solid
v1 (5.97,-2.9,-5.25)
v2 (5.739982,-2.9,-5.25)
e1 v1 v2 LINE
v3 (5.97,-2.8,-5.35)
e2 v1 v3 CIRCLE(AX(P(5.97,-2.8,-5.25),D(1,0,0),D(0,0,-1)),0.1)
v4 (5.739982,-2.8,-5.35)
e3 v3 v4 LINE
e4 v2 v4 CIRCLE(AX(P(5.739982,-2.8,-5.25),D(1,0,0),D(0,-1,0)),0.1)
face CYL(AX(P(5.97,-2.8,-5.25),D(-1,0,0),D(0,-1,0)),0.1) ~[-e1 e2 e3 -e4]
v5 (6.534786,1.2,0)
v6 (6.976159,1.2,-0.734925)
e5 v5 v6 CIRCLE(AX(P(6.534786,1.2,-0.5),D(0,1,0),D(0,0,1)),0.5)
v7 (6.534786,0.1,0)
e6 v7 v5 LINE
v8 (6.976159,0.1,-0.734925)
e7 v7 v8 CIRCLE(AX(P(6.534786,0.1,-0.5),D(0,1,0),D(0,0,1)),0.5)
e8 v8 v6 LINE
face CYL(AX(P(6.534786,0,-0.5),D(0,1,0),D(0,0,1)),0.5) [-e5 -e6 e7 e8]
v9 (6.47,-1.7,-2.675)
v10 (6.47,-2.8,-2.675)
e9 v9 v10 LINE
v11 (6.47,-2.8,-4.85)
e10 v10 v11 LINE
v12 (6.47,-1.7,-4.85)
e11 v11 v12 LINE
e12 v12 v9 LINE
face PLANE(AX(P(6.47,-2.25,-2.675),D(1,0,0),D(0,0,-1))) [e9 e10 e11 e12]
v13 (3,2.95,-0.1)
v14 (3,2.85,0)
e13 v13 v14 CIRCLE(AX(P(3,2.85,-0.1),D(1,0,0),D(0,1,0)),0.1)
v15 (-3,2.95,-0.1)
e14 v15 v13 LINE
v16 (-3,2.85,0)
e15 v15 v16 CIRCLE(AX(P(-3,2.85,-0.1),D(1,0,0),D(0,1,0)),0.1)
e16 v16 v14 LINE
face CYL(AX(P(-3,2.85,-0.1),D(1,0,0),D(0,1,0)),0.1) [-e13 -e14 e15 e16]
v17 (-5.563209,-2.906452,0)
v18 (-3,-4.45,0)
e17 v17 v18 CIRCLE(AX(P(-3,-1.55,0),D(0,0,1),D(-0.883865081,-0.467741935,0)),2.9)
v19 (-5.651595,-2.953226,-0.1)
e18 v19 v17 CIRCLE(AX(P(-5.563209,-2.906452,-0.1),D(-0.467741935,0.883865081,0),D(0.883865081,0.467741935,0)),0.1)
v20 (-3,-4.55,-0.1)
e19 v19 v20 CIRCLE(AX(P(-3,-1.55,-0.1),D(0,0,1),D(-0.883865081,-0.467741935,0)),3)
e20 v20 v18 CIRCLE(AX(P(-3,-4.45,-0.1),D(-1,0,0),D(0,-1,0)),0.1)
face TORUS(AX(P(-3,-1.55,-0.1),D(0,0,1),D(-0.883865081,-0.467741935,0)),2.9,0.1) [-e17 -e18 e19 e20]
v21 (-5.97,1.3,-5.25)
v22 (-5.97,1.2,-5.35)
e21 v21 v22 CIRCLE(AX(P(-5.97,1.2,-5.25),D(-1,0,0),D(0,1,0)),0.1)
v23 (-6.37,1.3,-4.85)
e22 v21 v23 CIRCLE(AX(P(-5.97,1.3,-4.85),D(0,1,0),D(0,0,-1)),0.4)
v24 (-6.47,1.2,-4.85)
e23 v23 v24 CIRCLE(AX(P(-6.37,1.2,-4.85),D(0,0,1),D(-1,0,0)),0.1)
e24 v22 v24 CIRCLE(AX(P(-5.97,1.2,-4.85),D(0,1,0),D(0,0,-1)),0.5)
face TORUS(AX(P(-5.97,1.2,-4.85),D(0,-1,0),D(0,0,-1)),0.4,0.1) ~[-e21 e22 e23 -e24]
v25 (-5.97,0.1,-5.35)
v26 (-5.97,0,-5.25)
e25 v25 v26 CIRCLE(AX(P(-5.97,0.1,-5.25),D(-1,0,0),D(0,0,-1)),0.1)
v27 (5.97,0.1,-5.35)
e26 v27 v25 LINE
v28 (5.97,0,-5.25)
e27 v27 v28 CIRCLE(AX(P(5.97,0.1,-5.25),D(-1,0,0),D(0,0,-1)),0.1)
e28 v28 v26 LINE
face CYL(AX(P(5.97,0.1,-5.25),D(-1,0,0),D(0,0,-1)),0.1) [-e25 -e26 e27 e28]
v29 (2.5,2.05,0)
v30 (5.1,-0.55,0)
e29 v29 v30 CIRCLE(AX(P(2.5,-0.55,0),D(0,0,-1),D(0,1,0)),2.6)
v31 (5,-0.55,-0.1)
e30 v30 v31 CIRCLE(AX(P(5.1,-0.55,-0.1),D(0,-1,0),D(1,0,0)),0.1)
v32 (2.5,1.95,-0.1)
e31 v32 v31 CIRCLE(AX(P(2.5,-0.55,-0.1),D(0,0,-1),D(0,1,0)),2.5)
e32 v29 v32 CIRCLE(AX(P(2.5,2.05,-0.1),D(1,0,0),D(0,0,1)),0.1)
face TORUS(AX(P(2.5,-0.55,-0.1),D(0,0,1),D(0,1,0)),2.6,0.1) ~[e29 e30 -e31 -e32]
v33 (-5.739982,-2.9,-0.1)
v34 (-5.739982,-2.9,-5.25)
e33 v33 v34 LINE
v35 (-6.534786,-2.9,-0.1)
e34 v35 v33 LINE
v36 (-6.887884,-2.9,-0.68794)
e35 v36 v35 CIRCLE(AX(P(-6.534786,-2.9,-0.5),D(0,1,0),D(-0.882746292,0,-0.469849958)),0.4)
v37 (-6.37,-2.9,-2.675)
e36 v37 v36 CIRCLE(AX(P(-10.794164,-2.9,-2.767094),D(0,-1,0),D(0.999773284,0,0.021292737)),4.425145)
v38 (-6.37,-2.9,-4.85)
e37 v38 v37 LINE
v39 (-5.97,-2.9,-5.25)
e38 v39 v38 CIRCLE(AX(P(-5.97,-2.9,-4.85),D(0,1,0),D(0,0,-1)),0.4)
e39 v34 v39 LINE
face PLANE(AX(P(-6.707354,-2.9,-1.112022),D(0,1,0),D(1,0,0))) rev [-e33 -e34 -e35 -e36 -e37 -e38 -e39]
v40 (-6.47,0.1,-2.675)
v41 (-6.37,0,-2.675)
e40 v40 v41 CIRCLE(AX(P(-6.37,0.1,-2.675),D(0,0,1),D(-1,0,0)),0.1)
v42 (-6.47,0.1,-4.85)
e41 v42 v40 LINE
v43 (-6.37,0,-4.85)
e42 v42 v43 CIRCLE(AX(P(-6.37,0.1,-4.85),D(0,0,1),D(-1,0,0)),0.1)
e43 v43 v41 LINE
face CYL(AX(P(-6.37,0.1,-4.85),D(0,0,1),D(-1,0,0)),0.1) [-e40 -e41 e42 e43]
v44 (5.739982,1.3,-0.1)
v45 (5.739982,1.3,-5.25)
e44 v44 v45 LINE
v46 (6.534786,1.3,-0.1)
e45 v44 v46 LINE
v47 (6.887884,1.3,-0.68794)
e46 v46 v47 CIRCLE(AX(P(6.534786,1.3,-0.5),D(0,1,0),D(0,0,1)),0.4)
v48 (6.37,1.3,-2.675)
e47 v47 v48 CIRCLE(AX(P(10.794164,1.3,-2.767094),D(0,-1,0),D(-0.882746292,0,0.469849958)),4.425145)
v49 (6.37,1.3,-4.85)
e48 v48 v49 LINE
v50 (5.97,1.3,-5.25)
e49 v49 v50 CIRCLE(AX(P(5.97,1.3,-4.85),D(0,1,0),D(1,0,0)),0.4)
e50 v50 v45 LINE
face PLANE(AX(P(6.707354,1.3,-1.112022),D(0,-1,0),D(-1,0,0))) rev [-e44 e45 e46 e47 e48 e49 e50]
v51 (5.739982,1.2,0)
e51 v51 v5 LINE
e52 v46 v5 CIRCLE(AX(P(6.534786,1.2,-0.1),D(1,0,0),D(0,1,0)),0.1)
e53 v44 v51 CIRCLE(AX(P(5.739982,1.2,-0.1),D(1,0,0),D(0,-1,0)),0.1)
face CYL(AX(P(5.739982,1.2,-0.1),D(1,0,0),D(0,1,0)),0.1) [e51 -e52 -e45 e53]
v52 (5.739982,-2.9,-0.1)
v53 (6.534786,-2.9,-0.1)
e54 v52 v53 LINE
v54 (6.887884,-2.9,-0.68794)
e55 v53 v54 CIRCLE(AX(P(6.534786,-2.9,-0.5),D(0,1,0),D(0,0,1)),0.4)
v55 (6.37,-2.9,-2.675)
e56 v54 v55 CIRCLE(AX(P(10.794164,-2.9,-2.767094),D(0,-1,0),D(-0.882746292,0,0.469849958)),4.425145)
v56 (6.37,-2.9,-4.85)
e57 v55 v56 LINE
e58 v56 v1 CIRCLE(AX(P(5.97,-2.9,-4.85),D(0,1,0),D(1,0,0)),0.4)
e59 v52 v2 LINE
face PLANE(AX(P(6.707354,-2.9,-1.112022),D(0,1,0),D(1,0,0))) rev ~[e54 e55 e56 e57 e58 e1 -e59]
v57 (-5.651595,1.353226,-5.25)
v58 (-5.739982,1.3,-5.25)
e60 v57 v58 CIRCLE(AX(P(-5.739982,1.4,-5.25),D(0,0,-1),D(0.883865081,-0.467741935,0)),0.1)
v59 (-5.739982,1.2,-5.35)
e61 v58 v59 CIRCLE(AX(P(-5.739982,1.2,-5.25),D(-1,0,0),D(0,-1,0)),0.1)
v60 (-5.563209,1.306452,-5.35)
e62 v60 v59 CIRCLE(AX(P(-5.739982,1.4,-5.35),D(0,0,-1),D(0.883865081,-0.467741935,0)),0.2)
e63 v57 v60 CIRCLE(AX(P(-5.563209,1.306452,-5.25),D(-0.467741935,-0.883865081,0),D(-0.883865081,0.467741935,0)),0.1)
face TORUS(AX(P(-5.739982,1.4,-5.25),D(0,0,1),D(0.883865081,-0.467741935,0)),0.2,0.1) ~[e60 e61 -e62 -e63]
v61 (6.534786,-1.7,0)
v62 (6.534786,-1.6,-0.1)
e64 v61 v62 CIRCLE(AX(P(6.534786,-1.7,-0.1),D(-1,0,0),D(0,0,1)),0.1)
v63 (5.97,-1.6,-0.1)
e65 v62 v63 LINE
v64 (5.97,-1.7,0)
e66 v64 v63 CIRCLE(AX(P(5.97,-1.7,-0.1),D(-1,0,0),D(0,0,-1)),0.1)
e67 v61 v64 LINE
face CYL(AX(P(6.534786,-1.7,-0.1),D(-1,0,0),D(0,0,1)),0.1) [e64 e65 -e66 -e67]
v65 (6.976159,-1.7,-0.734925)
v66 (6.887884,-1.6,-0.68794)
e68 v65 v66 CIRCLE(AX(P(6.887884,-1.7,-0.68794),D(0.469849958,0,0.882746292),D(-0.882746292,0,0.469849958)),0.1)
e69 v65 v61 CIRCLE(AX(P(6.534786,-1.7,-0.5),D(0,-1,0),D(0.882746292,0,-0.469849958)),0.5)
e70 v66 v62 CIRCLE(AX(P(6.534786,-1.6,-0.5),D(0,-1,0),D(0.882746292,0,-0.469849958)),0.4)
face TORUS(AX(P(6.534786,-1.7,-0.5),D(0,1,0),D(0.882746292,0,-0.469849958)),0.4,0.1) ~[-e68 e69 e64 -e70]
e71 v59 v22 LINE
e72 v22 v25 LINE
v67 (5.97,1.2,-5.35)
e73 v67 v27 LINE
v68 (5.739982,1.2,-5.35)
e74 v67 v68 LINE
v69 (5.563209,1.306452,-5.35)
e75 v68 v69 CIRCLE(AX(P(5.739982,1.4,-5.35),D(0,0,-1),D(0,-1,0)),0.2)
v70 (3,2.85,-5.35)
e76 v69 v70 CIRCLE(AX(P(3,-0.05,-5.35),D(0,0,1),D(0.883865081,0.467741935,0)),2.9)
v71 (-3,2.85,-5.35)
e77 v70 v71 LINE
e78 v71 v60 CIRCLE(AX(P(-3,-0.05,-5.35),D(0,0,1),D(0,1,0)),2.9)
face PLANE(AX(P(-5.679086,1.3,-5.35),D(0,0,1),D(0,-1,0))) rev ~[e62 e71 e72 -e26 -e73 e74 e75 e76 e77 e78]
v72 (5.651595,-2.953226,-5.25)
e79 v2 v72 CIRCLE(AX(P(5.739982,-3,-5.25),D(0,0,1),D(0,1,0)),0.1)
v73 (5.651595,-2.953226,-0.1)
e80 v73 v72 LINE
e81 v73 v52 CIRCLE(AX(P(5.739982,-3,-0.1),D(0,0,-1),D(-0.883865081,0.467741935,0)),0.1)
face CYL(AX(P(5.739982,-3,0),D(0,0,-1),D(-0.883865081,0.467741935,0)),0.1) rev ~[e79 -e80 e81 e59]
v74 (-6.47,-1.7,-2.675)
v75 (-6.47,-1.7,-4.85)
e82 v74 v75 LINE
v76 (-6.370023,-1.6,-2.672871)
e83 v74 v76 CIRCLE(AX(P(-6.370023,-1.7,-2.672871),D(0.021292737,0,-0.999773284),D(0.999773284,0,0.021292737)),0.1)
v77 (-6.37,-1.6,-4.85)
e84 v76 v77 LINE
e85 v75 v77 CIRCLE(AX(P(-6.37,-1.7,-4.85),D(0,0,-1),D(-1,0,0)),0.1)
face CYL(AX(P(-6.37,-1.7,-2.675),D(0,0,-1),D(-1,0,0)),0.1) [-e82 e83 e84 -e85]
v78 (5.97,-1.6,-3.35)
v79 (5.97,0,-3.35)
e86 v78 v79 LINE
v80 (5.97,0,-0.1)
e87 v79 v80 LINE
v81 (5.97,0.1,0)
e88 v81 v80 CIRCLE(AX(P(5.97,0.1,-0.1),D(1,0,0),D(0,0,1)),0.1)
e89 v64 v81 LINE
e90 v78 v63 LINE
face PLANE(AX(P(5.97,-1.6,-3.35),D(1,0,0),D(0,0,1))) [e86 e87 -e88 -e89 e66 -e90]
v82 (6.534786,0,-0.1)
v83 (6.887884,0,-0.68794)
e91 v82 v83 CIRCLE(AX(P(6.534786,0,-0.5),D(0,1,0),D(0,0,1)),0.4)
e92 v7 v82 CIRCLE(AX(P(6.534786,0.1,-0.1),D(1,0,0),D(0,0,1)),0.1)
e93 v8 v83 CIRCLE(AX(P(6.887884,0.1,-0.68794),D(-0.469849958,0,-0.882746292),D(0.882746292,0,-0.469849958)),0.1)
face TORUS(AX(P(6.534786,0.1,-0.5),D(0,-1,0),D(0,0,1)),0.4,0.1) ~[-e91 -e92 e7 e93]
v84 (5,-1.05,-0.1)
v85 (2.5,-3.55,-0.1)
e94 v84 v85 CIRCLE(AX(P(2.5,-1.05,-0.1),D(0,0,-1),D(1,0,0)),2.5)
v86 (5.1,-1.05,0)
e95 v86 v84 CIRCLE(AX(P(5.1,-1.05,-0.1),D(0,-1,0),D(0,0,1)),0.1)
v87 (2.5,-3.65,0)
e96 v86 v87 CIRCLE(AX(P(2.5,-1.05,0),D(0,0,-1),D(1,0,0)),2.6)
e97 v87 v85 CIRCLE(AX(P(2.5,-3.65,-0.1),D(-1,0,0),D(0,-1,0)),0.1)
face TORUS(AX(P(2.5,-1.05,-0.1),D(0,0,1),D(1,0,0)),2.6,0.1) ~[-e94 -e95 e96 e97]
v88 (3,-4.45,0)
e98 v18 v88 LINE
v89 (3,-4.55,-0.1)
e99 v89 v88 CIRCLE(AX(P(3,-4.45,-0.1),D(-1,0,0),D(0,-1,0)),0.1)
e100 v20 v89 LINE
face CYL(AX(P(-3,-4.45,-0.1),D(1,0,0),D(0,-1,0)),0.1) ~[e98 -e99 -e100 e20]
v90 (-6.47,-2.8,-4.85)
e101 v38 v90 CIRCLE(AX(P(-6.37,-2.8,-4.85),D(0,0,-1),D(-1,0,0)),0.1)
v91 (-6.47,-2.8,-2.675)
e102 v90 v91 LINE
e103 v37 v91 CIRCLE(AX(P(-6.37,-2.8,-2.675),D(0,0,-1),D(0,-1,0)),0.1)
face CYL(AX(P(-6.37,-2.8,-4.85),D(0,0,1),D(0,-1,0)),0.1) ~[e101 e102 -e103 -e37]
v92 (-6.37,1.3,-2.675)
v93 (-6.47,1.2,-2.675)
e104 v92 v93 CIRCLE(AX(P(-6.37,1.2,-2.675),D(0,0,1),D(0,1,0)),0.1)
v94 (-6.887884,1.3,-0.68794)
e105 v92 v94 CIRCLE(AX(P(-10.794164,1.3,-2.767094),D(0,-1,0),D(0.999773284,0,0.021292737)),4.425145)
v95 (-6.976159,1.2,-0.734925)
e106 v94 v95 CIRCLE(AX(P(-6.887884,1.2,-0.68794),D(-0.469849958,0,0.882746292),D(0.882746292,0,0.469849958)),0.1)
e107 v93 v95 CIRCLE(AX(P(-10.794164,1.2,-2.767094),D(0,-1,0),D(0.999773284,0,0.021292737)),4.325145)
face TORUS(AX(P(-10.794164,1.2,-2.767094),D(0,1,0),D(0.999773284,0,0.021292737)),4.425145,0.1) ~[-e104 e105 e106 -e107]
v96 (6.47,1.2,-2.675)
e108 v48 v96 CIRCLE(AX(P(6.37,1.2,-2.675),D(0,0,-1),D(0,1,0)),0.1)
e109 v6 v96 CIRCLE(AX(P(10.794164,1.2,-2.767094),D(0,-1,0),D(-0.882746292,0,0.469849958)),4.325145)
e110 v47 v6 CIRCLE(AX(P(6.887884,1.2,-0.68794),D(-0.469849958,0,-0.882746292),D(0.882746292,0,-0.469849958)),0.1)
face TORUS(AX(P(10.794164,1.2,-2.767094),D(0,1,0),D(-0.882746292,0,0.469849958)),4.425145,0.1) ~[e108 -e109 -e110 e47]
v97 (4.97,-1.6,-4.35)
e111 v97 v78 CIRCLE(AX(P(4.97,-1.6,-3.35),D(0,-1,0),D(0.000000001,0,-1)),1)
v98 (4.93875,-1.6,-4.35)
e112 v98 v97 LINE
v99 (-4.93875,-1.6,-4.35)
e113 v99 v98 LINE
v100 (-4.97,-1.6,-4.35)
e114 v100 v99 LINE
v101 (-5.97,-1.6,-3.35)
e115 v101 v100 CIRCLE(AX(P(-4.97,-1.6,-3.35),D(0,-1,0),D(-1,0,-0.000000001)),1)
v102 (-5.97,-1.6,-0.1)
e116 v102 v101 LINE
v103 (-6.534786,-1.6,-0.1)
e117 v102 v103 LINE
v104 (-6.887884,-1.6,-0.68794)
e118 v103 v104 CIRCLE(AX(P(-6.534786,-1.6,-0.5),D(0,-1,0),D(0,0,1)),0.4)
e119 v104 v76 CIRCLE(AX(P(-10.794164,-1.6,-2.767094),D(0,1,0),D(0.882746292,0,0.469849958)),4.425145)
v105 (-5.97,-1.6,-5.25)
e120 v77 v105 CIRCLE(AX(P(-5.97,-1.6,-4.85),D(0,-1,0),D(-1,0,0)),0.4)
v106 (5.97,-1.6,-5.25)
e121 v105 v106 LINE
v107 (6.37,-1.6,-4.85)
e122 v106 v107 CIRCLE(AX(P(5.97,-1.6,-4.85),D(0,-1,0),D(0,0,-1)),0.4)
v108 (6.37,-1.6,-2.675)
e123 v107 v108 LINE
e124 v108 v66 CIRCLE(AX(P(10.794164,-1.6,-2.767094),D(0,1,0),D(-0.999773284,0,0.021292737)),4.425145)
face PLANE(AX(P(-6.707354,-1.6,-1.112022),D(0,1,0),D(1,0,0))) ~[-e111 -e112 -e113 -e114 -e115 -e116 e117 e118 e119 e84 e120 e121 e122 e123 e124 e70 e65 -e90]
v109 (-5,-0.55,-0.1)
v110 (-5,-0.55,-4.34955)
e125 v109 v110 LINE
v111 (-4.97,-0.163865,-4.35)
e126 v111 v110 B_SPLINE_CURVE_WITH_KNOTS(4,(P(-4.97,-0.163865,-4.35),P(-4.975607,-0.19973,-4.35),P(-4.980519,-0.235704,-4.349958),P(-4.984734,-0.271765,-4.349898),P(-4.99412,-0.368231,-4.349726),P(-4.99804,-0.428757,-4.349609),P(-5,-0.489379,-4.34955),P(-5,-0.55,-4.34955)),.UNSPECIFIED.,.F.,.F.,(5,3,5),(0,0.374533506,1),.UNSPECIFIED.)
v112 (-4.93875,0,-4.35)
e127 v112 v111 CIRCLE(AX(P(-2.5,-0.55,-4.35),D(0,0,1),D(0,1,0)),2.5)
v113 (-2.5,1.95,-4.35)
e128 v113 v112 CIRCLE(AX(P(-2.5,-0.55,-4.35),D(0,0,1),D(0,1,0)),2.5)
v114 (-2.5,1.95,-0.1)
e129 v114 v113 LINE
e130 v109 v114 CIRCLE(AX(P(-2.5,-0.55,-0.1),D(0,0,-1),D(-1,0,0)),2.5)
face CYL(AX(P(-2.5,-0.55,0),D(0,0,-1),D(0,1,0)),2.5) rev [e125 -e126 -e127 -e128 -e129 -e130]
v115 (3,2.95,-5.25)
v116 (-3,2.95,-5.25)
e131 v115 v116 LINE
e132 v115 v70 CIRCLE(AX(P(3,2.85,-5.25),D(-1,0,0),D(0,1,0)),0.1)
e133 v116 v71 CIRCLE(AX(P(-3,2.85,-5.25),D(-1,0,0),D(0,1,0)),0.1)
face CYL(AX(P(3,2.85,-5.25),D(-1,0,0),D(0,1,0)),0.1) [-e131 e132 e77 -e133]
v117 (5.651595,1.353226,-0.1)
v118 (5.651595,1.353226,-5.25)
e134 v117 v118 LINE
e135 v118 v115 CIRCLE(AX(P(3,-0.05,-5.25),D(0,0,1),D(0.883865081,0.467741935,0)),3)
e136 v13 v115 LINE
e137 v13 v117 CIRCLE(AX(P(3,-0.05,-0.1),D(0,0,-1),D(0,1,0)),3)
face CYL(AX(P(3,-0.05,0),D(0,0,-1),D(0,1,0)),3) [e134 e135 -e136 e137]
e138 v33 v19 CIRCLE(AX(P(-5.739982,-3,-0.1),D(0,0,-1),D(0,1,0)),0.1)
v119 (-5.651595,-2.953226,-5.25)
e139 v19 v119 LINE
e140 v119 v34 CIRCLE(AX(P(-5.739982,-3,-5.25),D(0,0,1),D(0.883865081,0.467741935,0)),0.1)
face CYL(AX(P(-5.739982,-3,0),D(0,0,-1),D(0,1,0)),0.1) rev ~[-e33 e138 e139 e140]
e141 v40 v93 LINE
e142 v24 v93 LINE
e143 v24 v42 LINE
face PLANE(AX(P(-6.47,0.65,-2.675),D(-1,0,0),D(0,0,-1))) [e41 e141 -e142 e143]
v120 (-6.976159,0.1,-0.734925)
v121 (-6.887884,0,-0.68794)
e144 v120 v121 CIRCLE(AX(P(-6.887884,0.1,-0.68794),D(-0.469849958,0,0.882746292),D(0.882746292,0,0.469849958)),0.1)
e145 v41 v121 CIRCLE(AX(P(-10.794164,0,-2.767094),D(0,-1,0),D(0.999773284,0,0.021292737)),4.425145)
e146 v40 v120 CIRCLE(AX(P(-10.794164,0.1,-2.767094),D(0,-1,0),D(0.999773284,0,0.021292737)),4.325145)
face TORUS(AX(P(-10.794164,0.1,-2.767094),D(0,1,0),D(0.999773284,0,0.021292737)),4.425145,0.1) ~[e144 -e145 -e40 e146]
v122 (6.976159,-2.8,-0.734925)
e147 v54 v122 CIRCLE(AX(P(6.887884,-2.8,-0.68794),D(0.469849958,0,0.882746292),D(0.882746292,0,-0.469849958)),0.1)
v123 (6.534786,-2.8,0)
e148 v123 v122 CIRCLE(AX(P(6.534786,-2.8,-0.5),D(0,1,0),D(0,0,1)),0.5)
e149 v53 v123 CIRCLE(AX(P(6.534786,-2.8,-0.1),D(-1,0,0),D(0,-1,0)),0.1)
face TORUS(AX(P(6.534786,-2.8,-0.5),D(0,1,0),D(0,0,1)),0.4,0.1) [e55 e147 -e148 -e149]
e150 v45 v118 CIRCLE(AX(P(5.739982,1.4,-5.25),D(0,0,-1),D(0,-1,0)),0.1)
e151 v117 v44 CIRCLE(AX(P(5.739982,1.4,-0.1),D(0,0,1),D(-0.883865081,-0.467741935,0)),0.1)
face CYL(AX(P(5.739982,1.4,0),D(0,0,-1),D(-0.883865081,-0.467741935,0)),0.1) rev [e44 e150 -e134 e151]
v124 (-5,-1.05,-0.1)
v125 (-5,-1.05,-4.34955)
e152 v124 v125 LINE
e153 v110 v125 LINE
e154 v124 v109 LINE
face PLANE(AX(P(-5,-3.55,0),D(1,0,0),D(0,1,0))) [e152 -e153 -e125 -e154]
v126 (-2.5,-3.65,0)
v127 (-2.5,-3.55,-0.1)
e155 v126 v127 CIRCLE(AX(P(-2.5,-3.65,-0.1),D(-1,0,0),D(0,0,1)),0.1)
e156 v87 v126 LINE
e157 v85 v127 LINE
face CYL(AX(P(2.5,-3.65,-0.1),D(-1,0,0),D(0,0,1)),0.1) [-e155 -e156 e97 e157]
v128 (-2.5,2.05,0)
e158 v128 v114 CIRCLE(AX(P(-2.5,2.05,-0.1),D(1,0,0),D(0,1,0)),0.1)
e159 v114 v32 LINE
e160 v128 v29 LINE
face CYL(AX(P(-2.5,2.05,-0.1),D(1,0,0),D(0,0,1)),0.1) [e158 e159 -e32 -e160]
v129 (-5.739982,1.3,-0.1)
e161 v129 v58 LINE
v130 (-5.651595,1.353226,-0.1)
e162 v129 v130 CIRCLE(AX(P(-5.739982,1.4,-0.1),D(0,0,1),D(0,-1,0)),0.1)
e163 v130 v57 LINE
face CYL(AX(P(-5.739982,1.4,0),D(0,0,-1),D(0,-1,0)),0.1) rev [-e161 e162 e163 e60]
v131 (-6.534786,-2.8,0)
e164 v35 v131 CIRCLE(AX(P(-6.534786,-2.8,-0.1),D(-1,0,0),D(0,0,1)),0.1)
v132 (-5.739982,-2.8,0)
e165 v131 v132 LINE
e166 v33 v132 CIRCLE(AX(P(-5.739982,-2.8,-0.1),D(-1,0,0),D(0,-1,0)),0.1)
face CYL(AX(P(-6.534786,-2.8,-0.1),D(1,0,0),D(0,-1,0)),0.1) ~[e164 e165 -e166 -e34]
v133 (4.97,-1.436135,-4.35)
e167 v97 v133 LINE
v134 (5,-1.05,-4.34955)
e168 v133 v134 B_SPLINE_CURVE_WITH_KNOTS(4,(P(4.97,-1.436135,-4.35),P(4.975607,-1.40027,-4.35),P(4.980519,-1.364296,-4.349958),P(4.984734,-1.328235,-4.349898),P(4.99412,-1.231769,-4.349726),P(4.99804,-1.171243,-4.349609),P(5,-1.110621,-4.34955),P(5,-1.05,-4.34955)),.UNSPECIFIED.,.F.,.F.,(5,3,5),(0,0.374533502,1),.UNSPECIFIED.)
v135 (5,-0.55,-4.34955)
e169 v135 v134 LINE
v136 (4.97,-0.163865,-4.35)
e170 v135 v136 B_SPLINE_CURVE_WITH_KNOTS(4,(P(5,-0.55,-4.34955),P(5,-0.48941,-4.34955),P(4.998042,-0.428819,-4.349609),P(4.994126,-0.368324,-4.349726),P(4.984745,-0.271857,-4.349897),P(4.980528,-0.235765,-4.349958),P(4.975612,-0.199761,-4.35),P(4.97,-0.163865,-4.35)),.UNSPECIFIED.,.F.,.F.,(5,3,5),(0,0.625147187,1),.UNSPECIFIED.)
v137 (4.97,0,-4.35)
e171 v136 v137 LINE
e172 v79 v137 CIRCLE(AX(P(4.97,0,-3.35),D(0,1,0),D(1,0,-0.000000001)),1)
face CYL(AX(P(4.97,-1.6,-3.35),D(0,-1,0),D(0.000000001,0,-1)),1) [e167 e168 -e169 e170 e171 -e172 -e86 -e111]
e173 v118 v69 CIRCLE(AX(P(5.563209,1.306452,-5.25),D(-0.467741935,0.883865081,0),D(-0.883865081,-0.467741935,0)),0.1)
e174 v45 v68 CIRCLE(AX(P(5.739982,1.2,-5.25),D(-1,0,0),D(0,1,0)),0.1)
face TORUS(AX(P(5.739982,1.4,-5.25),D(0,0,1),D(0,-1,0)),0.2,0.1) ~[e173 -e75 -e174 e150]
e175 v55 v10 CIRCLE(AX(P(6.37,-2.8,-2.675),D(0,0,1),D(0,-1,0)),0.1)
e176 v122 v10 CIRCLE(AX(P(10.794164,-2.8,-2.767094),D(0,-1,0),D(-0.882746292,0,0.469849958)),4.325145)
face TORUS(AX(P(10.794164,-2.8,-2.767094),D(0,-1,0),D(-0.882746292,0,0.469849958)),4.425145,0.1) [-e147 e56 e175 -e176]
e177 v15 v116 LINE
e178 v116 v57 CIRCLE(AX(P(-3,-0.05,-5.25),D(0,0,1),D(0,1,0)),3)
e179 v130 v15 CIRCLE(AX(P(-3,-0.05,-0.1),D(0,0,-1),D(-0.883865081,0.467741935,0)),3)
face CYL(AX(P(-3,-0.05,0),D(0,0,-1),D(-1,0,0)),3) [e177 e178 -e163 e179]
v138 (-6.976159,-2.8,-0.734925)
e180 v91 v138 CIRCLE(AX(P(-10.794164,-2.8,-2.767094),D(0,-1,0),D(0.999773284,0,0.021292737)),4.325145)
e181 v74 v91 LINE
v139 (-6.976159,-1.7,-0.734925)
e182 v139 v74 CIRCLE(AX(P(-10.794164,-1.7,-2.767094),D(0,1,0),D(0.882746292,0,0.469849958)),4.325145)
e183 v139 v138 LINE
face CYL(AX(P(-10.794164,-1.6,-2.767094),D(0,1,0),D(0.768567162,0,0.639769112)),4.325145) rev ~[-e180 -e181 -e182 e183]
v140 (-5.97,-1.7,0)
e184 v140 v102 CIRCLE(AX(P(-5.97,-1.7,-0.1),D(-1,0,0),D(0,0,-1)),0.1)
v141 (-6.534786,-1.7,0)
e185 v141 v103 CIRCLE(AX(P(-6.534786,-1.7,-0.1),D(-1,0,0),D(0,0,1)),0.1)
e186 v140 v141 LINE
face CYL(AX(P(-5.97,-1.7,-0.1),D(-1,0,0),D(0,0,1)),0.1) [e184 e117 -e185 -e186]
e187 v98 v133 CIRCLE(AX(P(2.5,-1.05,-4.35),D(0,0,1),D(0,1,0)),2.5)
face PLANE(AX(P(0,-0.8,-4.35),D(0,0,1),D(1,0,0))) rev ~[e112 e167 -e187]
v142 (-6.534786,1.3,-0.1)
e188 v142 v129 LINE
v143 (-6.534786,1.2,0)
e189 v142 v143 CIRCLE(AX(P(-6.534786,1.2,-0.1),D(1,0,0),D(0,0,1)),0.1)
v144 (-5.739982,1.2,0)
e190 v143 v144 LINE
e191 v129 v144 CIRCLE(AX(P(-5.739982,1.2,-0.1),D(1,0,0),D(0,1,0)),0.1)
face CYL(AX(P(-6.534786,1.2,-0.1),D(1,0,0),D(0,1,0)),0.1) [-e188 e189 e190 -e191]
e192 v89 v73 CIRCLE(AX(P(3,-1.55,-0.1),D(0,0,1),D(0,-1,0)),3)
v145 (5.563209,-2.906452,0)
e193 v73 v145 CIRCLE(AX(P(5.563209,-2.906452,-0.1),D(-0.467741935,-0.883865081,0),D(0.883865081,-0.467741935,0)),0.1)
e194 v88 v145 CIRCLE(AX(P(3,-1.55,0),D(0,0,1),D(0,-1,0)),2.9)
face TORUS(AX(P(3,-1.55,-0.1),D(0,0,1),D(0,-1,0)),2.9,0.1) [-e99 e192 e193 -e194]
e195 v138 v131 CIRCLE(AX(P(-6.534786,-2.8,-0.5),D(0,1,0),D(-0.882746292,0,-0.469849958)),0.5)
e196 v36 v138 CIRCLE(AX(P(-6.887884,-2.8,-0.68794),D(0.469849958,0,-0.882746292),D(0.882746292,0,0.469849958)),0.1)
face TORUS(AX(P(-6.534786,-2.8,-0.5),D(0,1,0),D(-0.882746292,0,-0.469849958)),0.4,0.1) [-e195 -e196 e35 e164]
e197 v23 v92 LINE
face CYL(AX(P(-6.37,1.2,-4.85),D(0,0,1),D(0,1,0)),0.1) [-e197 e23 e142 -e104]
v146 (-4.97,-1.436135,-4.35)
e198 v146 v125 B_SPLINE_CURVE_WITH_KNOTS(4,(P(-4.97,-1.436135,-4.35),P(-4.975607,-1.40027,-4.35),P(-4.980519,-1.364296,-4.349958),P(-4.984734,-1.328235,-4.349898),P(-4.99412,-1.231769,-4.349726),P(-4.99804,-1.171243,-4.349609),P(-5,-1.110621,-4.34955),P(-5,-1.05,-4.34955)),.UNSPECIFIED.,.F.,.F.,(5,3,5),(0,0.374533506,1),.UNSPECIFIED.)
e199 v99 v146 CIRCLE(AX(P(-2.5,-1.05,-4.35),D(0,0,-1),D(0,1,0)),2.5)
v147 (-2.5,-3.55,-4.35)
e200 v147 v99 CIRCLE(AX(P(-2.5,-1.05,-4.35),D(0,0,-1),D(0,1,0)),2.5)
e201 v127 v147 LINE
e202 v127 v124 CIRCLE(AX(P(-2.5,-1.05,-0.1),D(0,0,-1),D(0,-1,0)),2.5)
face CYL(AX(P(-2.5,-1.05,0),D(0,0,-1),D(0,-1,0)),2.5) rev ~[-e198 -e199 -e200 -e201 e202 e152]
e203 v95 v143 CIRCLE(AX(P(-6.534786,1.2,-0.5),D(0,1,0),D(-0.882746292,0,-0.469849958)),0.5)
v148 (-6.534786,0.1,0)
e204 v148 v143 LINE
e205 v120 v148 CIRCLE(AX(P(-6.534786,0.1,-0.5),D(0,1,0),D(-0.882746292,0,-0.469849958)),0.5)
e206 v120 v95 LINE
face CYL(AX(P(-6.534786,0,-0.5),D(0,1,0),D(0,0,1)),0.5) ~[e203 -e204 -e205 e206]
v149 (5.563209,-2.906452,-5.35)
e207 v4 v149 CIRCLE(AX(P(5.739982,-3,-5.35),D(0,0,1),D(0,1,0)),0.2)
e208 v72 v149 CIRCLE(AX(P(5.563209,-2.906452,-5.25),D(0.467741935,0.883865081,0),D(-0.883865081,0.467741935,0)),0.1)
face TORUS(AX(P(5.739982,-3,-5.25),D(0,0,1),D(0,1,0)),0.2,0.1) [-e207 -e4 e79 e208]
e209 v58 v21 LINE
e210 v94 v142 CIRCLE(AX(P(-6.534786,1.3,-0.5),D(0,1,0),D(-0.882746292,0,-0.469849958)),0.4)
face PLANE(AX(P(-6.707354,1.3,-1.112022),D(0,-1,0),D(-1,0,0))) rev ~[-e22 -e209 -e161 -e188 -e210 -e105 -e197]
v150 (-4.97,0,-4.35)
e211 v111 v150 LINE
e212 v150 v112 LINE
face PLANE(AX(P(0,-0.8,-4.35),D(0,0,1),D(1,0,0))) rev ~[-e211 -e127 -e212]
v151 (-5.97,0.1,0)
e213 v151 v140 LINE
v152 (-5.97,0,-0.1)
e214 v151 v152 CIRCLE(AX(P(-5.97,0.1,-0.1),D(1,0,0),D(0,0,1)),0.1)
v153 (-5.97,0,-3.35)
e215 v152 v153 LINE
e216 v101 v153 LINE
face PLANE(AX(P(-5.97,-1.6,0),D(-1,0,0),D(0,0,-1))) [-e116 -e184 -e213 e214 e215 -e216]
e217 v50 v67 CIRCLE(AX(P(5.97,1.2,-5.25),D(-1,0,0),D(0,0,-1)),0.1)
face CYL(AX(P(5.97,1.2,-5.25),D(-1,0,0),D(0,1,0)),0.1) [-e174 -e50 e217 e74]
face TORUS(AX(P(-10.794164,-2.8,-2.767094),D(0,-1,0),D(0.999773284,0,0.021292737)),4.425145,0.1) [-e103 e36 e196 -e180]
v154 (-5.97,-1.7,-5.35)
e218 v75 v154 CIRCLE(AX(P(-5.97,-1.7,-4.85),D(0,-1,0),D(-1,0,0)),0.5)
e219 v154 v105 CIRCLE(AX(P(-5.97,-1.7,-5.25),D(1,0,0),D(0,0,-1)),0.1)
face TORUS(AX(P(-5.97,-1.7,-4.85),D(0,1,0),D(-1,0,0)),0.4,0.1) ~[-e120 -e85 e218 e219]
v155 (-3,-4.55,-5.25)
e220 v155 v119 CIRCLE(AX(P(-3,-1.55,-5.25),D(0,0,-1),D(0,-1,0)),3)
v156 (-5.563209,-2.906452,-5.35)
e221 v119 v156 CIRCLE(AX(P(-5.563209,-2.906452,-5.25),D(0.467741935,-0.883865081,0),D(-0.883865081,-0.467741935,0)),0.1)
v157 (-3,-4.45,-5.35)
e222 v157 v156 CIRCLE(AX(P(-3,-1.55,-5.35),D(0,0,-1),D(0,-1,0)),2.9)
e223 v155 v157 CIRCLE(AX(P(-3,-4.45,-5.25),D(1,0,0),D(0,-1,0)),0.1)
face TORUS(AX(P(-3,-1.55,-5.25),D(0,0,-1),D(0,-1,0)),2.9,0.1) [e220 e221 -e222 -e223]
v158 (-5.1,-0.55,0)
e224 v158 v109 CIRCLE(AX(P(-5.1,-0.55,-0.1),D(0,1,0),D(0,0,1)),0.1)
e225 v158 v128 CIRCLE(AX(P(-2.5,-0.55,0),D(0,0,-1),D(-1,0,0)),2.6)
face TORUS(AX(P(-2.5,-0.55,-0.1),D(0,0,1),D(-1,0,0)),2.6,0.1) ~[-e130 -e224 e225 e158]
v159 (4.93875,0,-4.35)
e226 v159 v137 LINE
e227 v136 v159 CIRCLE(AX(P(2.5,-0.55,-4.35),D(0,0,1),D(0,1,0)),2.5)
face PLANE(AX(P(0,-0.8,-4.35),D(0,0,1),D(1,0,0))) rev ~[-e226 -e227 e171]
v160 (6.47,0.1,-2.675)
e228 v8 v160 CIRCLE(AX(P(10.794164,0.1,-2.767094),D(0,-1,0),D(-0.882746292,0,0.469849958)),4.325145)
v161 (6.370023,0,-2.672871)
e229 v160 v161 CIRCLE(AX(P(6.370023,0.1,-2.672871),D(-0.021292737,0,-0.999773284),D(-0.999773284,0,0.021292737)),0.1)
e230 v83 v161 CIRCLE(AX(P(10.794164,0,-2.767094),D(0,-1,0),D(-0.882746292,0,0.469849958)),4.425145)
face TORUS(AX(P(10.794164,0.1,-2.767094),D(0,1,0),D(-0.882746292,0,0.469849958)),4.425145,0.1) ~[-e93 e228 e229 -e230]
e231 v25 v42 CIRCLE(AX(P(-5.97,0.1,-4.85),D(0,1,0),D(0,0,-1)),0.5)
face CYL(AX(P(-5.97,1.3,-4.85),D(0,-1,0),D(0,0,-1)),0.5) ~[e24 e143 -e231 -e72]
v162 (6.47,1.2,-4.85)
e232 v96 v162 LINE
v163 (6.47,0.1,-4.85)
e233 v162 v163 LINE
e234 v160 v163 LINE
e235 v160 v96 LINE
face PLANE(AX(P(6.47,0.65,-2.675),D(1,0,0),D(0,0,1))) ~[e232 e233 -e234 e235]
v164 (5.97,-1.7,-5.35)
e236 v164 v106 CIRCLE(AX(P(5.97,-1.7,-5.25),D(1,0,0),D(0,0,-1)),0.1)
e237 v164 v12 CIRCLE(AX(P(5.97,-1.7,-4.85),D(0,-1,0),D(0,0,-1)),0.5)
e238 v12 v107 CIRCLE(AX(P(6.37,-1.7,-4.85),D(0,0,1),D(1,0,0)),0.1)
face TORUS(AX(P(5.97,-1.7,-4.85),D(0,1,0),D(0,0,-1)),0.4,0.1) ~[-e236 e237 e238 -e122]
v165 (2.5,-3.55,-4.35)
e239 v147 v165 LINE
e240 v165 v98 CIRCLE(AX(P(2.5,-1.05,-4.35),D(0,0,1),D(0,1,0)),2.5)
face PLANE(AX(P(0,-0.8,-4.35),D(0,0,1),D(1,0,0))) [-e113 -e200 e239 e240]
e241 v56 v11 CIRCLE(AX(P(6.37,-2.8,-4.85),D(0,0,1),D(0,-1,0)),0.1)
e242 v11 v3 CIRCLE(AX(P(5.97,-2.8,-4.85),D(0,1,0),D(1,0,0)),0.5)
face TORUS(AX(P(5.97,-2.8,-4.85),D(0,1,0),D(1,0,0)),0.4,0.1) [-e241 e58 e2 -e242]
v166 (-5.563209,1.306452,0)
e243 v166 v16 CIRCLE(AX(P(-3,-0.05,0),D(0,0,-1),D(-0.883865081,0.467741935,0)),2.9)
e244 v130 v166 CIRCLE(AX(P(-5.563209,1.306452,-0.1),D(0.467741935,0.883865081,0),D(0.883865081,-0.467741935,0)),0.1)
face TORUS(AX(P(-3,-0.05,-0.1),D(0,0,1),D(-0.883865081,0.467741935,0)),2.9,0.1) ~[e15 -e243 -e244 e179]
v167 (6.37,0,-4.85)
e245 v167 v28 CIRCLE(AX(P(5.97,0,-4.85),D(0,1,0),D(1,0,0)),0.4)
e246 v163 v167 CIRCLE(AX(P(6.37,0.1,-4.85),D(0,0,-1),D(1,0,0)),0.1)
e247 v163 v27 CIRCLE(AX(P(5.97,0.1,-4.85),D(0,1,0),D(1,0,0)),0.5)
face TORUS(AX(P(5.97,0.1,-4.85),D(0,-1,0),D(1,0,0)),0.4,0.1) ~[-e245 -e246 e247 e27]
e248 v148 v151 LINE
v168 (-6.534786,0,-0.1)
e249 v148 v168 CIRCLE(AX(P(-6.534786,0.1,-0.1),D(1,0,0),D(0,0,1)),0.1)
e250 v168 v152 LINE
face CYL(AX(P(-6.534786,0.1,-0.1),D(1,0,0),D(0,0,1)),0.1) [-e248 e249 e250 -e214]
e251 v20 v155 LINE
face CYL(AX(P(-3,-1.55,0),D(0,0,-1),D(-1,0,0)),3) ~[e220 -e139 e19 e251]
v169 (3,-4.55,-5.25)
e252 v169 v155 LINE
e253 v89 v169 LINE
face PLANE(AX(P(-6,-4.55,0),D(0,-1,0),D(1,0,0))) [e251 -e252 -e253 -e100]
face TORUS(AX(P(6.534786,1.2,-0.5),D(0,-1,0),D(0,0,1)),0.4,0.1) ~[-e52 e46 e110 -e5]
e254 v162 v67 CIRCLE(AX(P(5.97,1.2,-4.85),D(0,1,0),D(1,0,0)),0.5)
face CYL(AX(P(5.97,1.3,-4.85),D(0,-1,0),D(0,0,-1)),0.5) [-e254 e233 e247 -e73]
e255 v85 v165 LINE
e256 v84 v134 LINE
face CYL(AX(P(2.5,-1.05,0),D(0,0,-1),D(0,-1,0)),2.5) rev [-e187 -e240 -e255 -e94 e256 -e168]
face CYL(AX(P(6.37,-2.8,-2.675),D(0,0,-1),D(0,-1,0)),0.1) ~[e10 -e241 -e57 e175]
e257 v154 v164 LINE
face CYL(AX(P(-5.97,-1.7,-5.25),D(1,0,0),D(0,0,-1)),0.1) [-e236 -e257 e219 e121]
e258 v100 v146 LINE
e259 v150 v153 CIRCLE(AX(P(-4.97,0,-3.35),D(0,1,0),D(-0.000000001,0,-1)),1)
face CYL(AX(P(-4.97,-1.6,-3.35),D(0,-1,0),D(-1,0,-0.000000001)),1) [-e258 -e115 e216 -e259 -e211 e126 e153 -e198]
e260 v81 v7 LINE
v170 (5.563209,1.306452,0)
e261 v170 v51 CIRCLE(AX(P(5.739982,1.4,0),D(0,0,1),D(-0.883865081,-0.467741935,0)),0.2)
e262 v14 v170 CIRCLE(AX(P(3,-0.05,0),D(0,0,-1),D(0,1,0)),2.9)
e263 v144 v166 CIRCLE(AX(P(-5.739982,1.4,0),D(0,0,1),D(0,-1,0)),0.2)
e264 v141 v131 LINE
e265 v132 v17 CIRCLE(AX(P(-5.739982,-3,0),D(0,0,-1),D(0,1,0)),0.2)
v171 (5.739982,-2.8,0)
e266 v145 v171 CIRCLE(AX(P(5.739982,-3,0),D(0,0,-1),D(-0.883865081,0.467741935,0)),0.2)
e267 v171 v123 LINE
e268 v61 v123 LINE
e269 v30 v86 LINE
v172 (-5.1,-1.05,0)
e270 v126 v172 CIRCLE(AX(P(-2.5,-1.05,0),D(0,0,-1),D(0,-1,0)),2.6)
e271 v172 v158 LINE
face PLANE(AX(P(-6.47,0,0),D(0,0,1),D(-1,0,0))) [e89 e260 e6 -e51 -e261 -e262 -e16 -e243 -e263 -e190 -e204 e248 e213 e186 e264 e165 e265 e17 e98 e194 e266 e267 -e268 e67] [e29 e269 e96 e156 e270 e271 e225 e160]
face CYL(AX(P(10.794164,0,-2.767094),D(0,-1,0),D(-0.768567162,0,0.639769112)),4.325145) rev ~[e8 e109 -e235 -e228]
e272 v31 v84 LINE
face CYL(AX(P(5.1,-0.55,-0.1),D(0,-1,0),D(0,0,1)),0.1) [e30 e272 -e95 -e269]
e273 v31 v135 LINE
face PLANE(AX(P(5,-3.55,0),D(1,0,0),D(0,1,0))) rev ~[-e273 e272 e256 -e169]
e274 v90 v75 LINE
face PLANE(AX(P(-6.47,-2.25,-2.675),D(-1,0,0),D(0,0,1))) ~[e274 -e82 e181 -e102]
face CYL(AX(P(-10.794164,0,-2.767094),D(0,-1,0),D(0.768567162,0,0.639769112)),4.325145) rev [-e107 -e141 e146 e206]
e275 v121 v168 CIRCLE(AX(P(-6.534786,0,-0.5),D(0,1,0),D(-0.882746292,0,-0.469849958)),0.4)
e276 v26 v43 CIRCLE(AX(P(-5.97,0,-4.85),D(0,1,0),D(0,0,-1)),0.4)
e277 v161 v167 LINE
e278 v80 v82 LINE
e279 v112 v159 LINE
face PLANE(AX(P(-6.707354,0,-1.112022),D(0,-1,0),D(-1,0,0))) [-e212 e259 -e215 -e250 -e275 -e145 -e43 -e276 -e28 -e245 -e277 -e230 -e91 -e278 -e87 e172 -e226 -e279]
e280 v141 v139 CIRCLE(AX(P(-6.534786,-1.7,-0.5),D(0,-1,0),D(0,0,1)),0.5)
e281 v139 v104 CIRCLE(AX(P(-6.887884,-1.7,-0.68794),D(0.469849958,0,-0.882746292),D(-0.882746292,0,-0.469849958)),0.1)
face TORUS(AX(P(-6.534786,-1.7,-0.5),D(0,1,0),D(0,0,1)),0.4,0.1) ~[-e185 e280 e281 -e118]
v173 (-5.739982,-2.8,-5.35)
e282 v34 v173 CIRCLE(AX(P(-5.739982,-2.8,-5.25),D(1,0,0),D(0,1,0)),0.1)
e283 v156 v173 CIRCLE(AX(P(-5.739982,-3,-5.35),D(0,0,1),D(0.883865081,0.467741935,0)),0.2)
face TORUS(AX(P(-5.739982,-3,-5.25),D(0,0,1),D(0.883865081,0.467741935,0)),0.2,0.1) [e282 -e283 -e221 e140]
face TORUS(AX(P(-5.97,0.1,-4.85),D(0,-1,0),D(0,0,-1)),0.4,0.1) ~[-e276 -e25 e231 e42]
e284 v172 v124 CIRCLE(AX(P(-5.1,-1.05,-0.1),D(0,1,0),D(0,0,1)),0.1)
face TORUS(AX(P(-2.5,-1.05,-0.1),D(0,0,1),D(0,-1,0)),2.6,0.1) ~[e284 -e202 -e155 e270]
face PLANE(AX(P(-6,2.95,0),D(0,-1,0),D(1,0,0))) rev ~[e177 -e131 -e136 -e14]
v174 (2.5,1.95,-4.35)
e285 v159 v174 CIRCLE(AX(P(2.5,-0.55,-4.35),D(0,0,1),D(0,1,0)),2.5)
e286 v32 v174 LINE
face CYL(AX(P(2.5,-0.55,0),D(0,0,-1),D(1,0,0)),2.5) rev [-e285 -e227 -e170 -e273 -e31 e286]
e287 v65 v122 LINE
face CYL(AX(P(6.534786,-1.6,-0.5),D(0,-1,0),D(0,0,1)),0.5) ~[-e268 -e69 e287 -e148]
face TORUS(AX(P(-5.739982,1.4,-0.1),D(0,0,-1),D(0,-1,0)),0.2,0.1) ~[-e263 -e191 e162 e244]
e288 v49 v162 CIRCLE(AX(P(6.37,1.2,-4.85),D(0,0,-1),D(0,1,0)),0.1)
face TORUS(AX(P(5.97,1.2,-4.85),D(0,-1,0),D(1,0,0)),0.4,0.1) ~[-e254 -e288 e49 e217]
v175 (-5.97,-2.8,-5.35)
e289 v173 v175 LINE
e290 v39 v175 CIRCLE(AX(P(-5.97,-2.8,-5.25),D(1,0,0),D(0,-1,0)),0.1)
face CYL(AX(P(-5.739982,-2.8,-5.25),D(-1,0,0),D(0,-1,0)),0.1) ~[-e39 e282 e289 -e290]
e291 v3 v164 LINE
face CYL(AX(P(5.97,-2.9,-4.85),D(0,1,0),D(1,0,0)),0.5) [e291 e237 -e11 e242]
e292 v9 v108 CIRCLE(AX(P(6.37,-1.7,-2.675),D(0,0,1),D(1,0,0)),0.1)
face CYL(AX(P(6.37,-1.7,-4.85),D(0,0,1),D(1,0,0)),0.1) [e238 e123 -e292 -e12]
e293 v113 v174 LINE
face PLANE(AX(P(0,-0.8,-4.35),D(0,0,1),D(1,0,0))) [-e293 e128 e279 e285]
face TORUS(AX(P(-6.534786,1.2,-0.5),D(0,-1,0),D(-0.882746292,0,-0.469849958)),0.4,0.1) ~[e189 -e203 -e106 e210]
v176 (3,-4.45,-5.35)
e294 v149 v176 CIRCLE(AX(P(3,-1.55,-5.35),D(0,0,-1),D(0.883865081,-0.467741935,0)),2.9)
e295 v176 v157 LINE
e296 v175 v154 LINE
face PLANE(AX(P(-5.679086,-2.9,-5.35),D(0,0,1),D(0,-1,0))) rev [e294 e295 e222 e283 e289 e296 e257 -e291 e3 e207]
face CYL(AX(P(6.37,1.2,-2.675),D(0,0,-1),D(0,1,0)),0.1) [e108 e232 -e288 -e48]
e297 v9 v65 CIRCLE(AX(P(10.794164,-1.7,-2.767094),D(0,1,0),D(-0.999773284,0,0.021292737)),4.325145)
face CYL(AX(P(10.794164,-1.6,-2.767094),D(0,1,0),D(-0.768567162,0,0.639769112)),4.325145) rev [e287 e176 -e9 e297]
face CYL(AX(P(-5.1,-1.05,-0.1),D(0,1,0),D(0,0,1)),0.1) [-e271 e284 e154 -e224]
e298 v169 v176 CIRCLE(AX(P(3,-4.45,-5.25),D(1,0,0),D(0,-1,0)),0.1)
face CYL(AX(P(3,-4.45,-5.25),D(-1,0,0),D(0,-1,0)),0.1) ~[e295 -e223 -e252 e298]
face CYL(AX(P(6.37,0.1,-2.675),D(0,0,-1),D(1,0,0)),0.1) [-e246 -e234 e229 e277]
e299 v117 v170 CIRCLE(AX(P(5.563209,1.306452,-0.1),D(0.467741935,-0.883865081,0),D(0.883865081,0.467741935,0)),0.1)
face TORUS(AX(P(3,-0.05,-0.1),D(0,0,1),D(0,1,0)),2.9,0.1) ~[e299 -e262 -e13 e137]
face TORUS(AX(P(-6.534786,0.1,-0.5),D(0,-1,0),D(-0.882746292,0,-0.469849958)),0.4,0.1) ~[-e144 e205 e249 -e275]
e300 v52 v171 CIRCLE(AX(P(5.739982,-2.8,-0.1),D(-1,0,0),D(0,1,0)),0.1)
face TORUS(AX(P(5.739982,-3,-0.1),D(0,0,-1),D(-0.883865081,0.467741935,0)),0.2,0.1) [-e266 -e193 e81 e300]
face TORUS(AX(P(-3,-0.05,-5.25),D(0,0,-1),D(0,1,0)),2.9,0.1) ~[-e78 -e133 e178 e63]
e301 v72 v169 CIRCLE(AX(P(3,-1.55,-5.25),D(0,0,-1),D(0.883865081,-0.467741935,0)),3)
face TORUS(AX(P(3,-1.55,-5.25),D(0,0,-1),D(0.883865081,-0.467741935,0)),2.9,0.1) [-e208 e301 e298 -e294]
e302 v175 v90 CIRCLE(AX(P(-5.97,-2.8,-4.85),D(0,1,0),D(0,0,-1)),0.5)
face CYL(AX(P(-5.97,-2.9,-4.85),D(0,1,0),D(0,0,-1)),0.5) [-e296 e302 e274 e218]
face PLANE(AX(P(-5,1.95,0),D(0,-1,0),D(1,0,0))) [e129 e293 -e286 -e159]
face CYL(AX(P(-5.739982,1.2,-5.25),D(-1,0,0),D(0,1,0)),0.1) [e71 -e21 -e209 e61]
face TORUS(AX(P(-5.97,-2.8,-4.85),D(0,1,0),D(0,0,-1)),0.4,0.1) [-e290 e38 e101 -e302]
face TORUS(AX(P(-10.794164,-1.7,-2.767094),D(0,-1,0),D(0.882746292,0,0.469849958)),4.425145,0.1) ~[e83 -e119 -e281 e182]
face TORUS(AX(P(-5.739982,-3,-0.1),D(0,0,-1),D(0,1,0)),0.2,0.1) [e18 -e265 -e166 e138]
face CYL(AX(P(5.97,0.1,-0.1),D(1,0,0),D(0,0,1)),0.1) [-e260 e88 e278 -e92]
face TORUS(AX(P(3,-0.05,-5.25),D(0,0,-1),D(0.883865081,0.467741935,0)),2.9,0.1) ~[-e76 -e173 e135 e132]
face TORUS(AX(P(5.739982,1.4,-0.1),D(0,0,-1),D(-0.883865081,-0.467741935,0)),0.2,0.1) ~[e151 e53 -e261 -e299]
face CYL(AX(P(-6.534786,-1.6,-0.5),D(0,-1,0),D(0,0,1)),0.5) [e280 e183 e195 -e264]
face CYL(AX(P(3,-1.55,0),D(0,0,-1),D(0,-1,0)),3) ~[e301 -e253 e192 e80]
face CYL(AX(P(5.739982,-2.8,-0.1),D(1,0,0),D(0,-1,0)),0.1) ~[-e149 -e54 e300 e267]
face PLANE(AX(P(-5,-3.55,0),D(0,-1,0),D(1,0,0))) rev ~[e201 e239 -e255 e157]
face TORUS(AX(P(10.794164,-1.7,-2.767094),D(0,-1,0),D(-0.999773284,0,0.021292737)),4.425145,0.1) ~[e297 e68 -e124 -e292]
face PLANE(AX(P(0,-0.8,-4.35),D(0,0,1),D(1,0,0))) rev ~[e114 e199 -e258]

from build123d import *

# Parameters (mm, degrees)
SKETCH1_W               = 12
SKETCH1_H               = 7.5
BOSS_EXTRUDE1_DEPTH     = 5.35
SKETCH2_W               = 10
SKETCH2_H               = 5.5
CUT_EXTRUDE1_DEPTH      = 4.35
FILLET3_R               = 2.5
FILLET1_R               = 3
SKETCH3_W               = 10
SKETCH3_H               = 1.6
CUT_EXTRUDE2_DEPTH      = 2
SKETCH4_OUTSIDE_W       = 17.026
SKETCH4_OUTSIDE_H       = 10.376
CUT_EXTRUDE3_DEPTH      = 1.6
BOSS_EXTRUDE2_START     = -0.290914
SKETCH6_W               = 5.35
SKETCH6_H               = 1.3
BOSS_EXTRUDE2_DEPTH     = 0.790914
BOSS_EXTRUDE8_DEPTH     = 1.3
MIRROR2_START           = -0.290914
MIRROR2_COPY_1_SKETCH_W = 5.35
MIRROR2_COPY_1_SKETCH_H = 1.3
MIRROR2_COPY_1_DEPTH    = 0.790914
MIRROR2_COPY_2_DEPTH    = 1.3
FILLET7_R               = 0.5
FILLET4_R               = 0.1
FILLET6_R               = 0.1
FILLET8_R               = 0.1


with BuildPart() as part:
    # Sketch1 → Boss-Extrude1 (new body)
    with BuildSketch(Plane.XY):
        with Locations((0, -0.8)):
            Rectangle(SKETCH1_W, SKETCH1_H)
    extrude(amount=-BOSS_EXTRUDE1_DEPTH)

    # Sketch2 → Cut-Extrude1 (cut)
    with BuildSketch(Plane.XY):
        with Locations((0, -0.8)):
            Rectangle(SKETCH2_W, SKETCH2_H)
    extrude(amount=-CUT_EXTRUDE1_DEPTH, mode=Mode.SUBTRACT)

    # Fillet3
    fillet3_edges = [part.edges().sort_by_distance(p)[0] for p in [
        (5, -3.55, -2.175),
        (-5, -3.55, -2.175),
        (-5, 1.95, -2.175),
        (5, 1.95, -2.175),
    ]]
    fillet(fillet3_edges, radius=FILLET3_R)

    # Fillet1
    fillet1_edges = [part.edges().sort_by_distance(p)[0] for p in [
        (-6, 2.95, -2.675),
        (6, 2.95, -2.675),
        (6, -4.55, -2.675),
        (-6, -4.55, -2.675),
    ]]
    fillet(fillet1_edges, radius=FILLET1_R)

    # Sketch3 → Cut-Extrude2 (cut, through all)
    with BuildSketch(Plane.XY.offset(-4.35)):
        with Locations((0, -0.8)):
            Rectangle(SKETCH3_W, SKETCH3_H)
    extrude(amount=-CUT_EXTRUDE2_DEPTH, mode=Mode.SUBTRACT)

    # Sketch4 outside → Cut-Extrude3 (cut)
    with BuildSketch(Plane.XZ.offset(1.6)):
        with Locations((0, -2.675)):
            Rectangle(SKETCH4_OUTSIDE_W, SKETCH4_OUTSIDE_H)
        with BuildLine():
            Line((5.97, -3.35), (5.97, 0))
            Line((5.97, 0), (-5.97, 0))
            Line((-5.97, 0), (-5.97, -3.35))
            ThreePointArc((-5.97, -3.35), (-5.677106781, -4.057106781), (-4.97, -4.35))
            Line((-4.97, -4.35), (-4.27, -4.35))
            Line((-4.27, -4.35), (4.27, -4.35))
            Line((4.27, -4.35), (4.97, -4.35))
            ThreePointArc((4.97, -4.35), (5.677106781, -4.057106781), (5.97, -3.35))
        make_face(mode=Mode.SUBTRACT)
    extrude(amount=-CUT_EXTRUDE3_DEPTH, mode=Mode.SUBTRACT)

    # Sketch6 → Boss-Extrude2 (add)
    with BuildSketch(Plane(origin=(5.97, 0, 0), x_dir=(0, 0, -1), z_dir=(1, 0, 0)).offset(BOSS_EXTRUDE2_START)):
        with Locations((2.675, -2.25)):
            Rectangle(SKETCH6_W, SKETCH6_H)
    boss_extrude2 = extrude(amount=BOSS_EXTRUDE2_DEPTH)

    # Sketch11 → Boss-Extrude8 (add)
    with BuildSketch(Plane(origin=(0, -1.6, 0), x_dir=(1, 0, 0), z_dir=(0, 1, 0))):
        with BuildLine():
            Line((6.47, 0), (7.47, 0))
            ThreePointArc((7.47, 0), (6.742851082, 1.252584517), (6.47, 2.675))
            Line((6.47, 2.675), (6.47, 0))
        make_face()
    boss_extrude8 = extrude(amount=-BOSS_EXTRUDE8_DEPTH)

    # Mirror1: Boss-Extrude2, Boss-Extrude8 across plane
    add(boss_extrude2.mirror(Plane.ZX.offset(-0.8)))
    add(boss_extrude8.mirror(Plane.ZX.offset(-0.8)))

    # Mirror2: Boss-Extrude2, Boss-Extrude8 across plane
    add(boss_extrude2.mirror(Plane(origin=(0, 0, 0), x_dir=(0, 0, 1), z_dir=(1, 0, 0))))
    add(boss_extrude8.mirror(Plane(origin=(0, 0, 0), x_dir=(0, 0, 1), z_dir=(1, 0, 0))))

    # Mirror2 copy 1 sketch → Mirror2 copy 1 (add)
    with BuildSketch(Plane(origin=(-5.97, -1.6, 0), x_dir=(0, 0, -1), z_dir=(-1, 0, 0)).offset(MIRROR2_START)):
        with Locations((2.675, -2.25)):
            Rectangle(MIRROR2_COPY_1_SKETCH_W, MIRROR2_COPY_1_SKETCH_H)
    extrude(amount=MIRROR2_COPY_1_DEPTH)

    # Mirror2 copy 2 sketch → Mirror2 copy 2 (add)
    with BuildSketch(Plane(origin=(0, 0, 0), x_dir=(-1, 0, 0), z_dir=(0, -1, 0))):
        with BuildLine():
            Line((6.47, 0), (7.47, 0))
            ThreePointArc((7.47, 0), (6.742851082, 1.252584517), (6.47, 2.675))
            Line((6.47, 2.675), (6.47, 0))
        make_face()
    extrude(amount=-MIRROR2_COPY_2_DEPTH)

    # Fillet7
    fillet7_edges = [part.edges().sort_by_distance(p)[0] for p in [
        (6.47, -2.25, -5.35),
        (7.47, -2.25, 0),
        (6.47, 0.65, -5.35),
        (7.47, 0.65, 0),
        (-6.47, 0.65, -5.35),
        (-7.47, 0.65, 0),
        (-6.47, -2.25, -5.35),
        (-7.47, -2.25, 0),
    ]]
    fillet(fillet7_edges, radius=FILLET7_R)

    # Fillet4
    fillet4_edges = [part.edges().sort_by_distance(p)[0] for p in [
        (5.679086, -2.9, -2.675),
        (5.679086, 1.3, -2.675),
        (-5.679086, 1.3, -2.675),
        (-5.679086, -2.9, -2.675),
    ]]
    fillet(fillet4_edges, radius=FILLET4_R)

    # Fillet6
    fillet6_edges = [part.edges().sort_by_distance(p)[0] for p in [
        (6.25239278, -1.6, 0),
        (6.25239278, 0, 0),
        (6.47, -2.9, -3.7625),
        (6.47, 1.3, -3.7625),
        (-6.47, 1.3, -3.7625),
        (-6.47, -2.9, -3.7625),
        (-6.47, 0, -3.7625),
        (0, 0, -5.35),
        (6.47, 0, -3.7625),
        (6.609106907, 0, -1.675227481),
        (-6.25239278, 0, 0),
        (-6.609106907, 0, -1.675227481),
        (6.323553391, 0, -5.203553391),
        (6.963424389, 0, -0.242572816),
        (-6.963424389, 0, -0.242572816),
        (-6.323553391, 0, -5.203553391),
        (-6.609106907, 1.3, -1.675227481),
        (-6.963424389, 1.3, -0.242572816),
        (-6.323553391, 1.3, -5.203553391),
        (0, -1.6, -5.35),
        (6.609106907, -1.6, -1.675227481),
        (6.47, -1.6, -3.7625),
        (-6.47, -1.6, -3.7625),
        (-6.609106907, -1.6, -1.675227481),
        (-6.25239278, -1.6, 0),
        (6.323553391, -1.6, -5.203553391),
        (6.963424389, -1.6, -0.242572816),
        (-6.963424389, -1.6, -0.242572816),
        (-6.323553391, -1.6, -5.203553391),
        (-6.609106907, -2.9, -1.675227481),
        (-6.963424389, -2.9, -0.242572816),
        (-6.323553391, -2.9, -5.203553391),
        (6.609106907, 1.3, -1.675227481),
        (6.323553391, 1.3, -5.203553391),
        (6.963424389, 1.3, -0.242572816),
        (6.609106907, -2.9, -1.675227481),
        (6.323553391, -2.9, -5.203553391),
        (6.963424389, -2.9, -0.242572816),
        (4.547630864, -4.119988076, -5.35),
        (6.137383656, -2.9, 0),
        (5.854990876, -2.9, -5.35),
        (6.137383656, 1.3, 0),
        (5.854990876, 1.3, -5.35),
        (4.547630864, 2.519988076, 0),
        (-5.854990876, -2.9, -5.35),
        (-6.137383656, -2.9, 0),
        (-4.547630864, -4.119988076, 0),
        (-4.547630864, 2.519988076, -5.35),
        (-5.854990876, 1.3, -5.35),
        (-6.137383656, 1.3, 0),
        (5.688394056, -2.914333731, 0),
        (5.688394056, -2.914333731, -5.35),
        (5.688394056, 1.314333731, 0),
        (5.688394056, 1.314333731, -5.35),
        (-5.688394056, -2.914333731, 0),
        (-5.688394056, -2.914333731, -5.35),
        (-5.688394056, 1.314333731, 0),
        (-5.688394056, 1.314333731, -5.35),
        (0, -4.55, 0),
        (0, 2.95, 0),
        (4.547630864, -4.119988076, 0),
        (-4.547630864, 2.519988076, 0),
        (0, 2.95, -5.35),
        (0, -4.55, -5.35),
        (-4.547630864, -4.119988076, -5.35),
        (4.547630864, 2.519988076, -5.35),
    ]]
    fillet(fillet6_edges, radius=FILLET6_R)

    # Fillet8
    fillet8_edges = [part.edges().sort_by_distance(p)[0] for p in [
        (-5, -0.8, 0),
        (0, 1.95, 0),
        (0, -3.55, 0),
        (5, -0.8, 0),
        (-4.267766953, 1.217766953, 0),
        (-4.267766953, -2.817766953, 0),
        (4.267766953, -2.817766953, 0),
        (4.267766953, 1.217766953, 0),
    ]]
    fillet(fillet8_edges, radius=FILLET8_R)


solid = part.part
